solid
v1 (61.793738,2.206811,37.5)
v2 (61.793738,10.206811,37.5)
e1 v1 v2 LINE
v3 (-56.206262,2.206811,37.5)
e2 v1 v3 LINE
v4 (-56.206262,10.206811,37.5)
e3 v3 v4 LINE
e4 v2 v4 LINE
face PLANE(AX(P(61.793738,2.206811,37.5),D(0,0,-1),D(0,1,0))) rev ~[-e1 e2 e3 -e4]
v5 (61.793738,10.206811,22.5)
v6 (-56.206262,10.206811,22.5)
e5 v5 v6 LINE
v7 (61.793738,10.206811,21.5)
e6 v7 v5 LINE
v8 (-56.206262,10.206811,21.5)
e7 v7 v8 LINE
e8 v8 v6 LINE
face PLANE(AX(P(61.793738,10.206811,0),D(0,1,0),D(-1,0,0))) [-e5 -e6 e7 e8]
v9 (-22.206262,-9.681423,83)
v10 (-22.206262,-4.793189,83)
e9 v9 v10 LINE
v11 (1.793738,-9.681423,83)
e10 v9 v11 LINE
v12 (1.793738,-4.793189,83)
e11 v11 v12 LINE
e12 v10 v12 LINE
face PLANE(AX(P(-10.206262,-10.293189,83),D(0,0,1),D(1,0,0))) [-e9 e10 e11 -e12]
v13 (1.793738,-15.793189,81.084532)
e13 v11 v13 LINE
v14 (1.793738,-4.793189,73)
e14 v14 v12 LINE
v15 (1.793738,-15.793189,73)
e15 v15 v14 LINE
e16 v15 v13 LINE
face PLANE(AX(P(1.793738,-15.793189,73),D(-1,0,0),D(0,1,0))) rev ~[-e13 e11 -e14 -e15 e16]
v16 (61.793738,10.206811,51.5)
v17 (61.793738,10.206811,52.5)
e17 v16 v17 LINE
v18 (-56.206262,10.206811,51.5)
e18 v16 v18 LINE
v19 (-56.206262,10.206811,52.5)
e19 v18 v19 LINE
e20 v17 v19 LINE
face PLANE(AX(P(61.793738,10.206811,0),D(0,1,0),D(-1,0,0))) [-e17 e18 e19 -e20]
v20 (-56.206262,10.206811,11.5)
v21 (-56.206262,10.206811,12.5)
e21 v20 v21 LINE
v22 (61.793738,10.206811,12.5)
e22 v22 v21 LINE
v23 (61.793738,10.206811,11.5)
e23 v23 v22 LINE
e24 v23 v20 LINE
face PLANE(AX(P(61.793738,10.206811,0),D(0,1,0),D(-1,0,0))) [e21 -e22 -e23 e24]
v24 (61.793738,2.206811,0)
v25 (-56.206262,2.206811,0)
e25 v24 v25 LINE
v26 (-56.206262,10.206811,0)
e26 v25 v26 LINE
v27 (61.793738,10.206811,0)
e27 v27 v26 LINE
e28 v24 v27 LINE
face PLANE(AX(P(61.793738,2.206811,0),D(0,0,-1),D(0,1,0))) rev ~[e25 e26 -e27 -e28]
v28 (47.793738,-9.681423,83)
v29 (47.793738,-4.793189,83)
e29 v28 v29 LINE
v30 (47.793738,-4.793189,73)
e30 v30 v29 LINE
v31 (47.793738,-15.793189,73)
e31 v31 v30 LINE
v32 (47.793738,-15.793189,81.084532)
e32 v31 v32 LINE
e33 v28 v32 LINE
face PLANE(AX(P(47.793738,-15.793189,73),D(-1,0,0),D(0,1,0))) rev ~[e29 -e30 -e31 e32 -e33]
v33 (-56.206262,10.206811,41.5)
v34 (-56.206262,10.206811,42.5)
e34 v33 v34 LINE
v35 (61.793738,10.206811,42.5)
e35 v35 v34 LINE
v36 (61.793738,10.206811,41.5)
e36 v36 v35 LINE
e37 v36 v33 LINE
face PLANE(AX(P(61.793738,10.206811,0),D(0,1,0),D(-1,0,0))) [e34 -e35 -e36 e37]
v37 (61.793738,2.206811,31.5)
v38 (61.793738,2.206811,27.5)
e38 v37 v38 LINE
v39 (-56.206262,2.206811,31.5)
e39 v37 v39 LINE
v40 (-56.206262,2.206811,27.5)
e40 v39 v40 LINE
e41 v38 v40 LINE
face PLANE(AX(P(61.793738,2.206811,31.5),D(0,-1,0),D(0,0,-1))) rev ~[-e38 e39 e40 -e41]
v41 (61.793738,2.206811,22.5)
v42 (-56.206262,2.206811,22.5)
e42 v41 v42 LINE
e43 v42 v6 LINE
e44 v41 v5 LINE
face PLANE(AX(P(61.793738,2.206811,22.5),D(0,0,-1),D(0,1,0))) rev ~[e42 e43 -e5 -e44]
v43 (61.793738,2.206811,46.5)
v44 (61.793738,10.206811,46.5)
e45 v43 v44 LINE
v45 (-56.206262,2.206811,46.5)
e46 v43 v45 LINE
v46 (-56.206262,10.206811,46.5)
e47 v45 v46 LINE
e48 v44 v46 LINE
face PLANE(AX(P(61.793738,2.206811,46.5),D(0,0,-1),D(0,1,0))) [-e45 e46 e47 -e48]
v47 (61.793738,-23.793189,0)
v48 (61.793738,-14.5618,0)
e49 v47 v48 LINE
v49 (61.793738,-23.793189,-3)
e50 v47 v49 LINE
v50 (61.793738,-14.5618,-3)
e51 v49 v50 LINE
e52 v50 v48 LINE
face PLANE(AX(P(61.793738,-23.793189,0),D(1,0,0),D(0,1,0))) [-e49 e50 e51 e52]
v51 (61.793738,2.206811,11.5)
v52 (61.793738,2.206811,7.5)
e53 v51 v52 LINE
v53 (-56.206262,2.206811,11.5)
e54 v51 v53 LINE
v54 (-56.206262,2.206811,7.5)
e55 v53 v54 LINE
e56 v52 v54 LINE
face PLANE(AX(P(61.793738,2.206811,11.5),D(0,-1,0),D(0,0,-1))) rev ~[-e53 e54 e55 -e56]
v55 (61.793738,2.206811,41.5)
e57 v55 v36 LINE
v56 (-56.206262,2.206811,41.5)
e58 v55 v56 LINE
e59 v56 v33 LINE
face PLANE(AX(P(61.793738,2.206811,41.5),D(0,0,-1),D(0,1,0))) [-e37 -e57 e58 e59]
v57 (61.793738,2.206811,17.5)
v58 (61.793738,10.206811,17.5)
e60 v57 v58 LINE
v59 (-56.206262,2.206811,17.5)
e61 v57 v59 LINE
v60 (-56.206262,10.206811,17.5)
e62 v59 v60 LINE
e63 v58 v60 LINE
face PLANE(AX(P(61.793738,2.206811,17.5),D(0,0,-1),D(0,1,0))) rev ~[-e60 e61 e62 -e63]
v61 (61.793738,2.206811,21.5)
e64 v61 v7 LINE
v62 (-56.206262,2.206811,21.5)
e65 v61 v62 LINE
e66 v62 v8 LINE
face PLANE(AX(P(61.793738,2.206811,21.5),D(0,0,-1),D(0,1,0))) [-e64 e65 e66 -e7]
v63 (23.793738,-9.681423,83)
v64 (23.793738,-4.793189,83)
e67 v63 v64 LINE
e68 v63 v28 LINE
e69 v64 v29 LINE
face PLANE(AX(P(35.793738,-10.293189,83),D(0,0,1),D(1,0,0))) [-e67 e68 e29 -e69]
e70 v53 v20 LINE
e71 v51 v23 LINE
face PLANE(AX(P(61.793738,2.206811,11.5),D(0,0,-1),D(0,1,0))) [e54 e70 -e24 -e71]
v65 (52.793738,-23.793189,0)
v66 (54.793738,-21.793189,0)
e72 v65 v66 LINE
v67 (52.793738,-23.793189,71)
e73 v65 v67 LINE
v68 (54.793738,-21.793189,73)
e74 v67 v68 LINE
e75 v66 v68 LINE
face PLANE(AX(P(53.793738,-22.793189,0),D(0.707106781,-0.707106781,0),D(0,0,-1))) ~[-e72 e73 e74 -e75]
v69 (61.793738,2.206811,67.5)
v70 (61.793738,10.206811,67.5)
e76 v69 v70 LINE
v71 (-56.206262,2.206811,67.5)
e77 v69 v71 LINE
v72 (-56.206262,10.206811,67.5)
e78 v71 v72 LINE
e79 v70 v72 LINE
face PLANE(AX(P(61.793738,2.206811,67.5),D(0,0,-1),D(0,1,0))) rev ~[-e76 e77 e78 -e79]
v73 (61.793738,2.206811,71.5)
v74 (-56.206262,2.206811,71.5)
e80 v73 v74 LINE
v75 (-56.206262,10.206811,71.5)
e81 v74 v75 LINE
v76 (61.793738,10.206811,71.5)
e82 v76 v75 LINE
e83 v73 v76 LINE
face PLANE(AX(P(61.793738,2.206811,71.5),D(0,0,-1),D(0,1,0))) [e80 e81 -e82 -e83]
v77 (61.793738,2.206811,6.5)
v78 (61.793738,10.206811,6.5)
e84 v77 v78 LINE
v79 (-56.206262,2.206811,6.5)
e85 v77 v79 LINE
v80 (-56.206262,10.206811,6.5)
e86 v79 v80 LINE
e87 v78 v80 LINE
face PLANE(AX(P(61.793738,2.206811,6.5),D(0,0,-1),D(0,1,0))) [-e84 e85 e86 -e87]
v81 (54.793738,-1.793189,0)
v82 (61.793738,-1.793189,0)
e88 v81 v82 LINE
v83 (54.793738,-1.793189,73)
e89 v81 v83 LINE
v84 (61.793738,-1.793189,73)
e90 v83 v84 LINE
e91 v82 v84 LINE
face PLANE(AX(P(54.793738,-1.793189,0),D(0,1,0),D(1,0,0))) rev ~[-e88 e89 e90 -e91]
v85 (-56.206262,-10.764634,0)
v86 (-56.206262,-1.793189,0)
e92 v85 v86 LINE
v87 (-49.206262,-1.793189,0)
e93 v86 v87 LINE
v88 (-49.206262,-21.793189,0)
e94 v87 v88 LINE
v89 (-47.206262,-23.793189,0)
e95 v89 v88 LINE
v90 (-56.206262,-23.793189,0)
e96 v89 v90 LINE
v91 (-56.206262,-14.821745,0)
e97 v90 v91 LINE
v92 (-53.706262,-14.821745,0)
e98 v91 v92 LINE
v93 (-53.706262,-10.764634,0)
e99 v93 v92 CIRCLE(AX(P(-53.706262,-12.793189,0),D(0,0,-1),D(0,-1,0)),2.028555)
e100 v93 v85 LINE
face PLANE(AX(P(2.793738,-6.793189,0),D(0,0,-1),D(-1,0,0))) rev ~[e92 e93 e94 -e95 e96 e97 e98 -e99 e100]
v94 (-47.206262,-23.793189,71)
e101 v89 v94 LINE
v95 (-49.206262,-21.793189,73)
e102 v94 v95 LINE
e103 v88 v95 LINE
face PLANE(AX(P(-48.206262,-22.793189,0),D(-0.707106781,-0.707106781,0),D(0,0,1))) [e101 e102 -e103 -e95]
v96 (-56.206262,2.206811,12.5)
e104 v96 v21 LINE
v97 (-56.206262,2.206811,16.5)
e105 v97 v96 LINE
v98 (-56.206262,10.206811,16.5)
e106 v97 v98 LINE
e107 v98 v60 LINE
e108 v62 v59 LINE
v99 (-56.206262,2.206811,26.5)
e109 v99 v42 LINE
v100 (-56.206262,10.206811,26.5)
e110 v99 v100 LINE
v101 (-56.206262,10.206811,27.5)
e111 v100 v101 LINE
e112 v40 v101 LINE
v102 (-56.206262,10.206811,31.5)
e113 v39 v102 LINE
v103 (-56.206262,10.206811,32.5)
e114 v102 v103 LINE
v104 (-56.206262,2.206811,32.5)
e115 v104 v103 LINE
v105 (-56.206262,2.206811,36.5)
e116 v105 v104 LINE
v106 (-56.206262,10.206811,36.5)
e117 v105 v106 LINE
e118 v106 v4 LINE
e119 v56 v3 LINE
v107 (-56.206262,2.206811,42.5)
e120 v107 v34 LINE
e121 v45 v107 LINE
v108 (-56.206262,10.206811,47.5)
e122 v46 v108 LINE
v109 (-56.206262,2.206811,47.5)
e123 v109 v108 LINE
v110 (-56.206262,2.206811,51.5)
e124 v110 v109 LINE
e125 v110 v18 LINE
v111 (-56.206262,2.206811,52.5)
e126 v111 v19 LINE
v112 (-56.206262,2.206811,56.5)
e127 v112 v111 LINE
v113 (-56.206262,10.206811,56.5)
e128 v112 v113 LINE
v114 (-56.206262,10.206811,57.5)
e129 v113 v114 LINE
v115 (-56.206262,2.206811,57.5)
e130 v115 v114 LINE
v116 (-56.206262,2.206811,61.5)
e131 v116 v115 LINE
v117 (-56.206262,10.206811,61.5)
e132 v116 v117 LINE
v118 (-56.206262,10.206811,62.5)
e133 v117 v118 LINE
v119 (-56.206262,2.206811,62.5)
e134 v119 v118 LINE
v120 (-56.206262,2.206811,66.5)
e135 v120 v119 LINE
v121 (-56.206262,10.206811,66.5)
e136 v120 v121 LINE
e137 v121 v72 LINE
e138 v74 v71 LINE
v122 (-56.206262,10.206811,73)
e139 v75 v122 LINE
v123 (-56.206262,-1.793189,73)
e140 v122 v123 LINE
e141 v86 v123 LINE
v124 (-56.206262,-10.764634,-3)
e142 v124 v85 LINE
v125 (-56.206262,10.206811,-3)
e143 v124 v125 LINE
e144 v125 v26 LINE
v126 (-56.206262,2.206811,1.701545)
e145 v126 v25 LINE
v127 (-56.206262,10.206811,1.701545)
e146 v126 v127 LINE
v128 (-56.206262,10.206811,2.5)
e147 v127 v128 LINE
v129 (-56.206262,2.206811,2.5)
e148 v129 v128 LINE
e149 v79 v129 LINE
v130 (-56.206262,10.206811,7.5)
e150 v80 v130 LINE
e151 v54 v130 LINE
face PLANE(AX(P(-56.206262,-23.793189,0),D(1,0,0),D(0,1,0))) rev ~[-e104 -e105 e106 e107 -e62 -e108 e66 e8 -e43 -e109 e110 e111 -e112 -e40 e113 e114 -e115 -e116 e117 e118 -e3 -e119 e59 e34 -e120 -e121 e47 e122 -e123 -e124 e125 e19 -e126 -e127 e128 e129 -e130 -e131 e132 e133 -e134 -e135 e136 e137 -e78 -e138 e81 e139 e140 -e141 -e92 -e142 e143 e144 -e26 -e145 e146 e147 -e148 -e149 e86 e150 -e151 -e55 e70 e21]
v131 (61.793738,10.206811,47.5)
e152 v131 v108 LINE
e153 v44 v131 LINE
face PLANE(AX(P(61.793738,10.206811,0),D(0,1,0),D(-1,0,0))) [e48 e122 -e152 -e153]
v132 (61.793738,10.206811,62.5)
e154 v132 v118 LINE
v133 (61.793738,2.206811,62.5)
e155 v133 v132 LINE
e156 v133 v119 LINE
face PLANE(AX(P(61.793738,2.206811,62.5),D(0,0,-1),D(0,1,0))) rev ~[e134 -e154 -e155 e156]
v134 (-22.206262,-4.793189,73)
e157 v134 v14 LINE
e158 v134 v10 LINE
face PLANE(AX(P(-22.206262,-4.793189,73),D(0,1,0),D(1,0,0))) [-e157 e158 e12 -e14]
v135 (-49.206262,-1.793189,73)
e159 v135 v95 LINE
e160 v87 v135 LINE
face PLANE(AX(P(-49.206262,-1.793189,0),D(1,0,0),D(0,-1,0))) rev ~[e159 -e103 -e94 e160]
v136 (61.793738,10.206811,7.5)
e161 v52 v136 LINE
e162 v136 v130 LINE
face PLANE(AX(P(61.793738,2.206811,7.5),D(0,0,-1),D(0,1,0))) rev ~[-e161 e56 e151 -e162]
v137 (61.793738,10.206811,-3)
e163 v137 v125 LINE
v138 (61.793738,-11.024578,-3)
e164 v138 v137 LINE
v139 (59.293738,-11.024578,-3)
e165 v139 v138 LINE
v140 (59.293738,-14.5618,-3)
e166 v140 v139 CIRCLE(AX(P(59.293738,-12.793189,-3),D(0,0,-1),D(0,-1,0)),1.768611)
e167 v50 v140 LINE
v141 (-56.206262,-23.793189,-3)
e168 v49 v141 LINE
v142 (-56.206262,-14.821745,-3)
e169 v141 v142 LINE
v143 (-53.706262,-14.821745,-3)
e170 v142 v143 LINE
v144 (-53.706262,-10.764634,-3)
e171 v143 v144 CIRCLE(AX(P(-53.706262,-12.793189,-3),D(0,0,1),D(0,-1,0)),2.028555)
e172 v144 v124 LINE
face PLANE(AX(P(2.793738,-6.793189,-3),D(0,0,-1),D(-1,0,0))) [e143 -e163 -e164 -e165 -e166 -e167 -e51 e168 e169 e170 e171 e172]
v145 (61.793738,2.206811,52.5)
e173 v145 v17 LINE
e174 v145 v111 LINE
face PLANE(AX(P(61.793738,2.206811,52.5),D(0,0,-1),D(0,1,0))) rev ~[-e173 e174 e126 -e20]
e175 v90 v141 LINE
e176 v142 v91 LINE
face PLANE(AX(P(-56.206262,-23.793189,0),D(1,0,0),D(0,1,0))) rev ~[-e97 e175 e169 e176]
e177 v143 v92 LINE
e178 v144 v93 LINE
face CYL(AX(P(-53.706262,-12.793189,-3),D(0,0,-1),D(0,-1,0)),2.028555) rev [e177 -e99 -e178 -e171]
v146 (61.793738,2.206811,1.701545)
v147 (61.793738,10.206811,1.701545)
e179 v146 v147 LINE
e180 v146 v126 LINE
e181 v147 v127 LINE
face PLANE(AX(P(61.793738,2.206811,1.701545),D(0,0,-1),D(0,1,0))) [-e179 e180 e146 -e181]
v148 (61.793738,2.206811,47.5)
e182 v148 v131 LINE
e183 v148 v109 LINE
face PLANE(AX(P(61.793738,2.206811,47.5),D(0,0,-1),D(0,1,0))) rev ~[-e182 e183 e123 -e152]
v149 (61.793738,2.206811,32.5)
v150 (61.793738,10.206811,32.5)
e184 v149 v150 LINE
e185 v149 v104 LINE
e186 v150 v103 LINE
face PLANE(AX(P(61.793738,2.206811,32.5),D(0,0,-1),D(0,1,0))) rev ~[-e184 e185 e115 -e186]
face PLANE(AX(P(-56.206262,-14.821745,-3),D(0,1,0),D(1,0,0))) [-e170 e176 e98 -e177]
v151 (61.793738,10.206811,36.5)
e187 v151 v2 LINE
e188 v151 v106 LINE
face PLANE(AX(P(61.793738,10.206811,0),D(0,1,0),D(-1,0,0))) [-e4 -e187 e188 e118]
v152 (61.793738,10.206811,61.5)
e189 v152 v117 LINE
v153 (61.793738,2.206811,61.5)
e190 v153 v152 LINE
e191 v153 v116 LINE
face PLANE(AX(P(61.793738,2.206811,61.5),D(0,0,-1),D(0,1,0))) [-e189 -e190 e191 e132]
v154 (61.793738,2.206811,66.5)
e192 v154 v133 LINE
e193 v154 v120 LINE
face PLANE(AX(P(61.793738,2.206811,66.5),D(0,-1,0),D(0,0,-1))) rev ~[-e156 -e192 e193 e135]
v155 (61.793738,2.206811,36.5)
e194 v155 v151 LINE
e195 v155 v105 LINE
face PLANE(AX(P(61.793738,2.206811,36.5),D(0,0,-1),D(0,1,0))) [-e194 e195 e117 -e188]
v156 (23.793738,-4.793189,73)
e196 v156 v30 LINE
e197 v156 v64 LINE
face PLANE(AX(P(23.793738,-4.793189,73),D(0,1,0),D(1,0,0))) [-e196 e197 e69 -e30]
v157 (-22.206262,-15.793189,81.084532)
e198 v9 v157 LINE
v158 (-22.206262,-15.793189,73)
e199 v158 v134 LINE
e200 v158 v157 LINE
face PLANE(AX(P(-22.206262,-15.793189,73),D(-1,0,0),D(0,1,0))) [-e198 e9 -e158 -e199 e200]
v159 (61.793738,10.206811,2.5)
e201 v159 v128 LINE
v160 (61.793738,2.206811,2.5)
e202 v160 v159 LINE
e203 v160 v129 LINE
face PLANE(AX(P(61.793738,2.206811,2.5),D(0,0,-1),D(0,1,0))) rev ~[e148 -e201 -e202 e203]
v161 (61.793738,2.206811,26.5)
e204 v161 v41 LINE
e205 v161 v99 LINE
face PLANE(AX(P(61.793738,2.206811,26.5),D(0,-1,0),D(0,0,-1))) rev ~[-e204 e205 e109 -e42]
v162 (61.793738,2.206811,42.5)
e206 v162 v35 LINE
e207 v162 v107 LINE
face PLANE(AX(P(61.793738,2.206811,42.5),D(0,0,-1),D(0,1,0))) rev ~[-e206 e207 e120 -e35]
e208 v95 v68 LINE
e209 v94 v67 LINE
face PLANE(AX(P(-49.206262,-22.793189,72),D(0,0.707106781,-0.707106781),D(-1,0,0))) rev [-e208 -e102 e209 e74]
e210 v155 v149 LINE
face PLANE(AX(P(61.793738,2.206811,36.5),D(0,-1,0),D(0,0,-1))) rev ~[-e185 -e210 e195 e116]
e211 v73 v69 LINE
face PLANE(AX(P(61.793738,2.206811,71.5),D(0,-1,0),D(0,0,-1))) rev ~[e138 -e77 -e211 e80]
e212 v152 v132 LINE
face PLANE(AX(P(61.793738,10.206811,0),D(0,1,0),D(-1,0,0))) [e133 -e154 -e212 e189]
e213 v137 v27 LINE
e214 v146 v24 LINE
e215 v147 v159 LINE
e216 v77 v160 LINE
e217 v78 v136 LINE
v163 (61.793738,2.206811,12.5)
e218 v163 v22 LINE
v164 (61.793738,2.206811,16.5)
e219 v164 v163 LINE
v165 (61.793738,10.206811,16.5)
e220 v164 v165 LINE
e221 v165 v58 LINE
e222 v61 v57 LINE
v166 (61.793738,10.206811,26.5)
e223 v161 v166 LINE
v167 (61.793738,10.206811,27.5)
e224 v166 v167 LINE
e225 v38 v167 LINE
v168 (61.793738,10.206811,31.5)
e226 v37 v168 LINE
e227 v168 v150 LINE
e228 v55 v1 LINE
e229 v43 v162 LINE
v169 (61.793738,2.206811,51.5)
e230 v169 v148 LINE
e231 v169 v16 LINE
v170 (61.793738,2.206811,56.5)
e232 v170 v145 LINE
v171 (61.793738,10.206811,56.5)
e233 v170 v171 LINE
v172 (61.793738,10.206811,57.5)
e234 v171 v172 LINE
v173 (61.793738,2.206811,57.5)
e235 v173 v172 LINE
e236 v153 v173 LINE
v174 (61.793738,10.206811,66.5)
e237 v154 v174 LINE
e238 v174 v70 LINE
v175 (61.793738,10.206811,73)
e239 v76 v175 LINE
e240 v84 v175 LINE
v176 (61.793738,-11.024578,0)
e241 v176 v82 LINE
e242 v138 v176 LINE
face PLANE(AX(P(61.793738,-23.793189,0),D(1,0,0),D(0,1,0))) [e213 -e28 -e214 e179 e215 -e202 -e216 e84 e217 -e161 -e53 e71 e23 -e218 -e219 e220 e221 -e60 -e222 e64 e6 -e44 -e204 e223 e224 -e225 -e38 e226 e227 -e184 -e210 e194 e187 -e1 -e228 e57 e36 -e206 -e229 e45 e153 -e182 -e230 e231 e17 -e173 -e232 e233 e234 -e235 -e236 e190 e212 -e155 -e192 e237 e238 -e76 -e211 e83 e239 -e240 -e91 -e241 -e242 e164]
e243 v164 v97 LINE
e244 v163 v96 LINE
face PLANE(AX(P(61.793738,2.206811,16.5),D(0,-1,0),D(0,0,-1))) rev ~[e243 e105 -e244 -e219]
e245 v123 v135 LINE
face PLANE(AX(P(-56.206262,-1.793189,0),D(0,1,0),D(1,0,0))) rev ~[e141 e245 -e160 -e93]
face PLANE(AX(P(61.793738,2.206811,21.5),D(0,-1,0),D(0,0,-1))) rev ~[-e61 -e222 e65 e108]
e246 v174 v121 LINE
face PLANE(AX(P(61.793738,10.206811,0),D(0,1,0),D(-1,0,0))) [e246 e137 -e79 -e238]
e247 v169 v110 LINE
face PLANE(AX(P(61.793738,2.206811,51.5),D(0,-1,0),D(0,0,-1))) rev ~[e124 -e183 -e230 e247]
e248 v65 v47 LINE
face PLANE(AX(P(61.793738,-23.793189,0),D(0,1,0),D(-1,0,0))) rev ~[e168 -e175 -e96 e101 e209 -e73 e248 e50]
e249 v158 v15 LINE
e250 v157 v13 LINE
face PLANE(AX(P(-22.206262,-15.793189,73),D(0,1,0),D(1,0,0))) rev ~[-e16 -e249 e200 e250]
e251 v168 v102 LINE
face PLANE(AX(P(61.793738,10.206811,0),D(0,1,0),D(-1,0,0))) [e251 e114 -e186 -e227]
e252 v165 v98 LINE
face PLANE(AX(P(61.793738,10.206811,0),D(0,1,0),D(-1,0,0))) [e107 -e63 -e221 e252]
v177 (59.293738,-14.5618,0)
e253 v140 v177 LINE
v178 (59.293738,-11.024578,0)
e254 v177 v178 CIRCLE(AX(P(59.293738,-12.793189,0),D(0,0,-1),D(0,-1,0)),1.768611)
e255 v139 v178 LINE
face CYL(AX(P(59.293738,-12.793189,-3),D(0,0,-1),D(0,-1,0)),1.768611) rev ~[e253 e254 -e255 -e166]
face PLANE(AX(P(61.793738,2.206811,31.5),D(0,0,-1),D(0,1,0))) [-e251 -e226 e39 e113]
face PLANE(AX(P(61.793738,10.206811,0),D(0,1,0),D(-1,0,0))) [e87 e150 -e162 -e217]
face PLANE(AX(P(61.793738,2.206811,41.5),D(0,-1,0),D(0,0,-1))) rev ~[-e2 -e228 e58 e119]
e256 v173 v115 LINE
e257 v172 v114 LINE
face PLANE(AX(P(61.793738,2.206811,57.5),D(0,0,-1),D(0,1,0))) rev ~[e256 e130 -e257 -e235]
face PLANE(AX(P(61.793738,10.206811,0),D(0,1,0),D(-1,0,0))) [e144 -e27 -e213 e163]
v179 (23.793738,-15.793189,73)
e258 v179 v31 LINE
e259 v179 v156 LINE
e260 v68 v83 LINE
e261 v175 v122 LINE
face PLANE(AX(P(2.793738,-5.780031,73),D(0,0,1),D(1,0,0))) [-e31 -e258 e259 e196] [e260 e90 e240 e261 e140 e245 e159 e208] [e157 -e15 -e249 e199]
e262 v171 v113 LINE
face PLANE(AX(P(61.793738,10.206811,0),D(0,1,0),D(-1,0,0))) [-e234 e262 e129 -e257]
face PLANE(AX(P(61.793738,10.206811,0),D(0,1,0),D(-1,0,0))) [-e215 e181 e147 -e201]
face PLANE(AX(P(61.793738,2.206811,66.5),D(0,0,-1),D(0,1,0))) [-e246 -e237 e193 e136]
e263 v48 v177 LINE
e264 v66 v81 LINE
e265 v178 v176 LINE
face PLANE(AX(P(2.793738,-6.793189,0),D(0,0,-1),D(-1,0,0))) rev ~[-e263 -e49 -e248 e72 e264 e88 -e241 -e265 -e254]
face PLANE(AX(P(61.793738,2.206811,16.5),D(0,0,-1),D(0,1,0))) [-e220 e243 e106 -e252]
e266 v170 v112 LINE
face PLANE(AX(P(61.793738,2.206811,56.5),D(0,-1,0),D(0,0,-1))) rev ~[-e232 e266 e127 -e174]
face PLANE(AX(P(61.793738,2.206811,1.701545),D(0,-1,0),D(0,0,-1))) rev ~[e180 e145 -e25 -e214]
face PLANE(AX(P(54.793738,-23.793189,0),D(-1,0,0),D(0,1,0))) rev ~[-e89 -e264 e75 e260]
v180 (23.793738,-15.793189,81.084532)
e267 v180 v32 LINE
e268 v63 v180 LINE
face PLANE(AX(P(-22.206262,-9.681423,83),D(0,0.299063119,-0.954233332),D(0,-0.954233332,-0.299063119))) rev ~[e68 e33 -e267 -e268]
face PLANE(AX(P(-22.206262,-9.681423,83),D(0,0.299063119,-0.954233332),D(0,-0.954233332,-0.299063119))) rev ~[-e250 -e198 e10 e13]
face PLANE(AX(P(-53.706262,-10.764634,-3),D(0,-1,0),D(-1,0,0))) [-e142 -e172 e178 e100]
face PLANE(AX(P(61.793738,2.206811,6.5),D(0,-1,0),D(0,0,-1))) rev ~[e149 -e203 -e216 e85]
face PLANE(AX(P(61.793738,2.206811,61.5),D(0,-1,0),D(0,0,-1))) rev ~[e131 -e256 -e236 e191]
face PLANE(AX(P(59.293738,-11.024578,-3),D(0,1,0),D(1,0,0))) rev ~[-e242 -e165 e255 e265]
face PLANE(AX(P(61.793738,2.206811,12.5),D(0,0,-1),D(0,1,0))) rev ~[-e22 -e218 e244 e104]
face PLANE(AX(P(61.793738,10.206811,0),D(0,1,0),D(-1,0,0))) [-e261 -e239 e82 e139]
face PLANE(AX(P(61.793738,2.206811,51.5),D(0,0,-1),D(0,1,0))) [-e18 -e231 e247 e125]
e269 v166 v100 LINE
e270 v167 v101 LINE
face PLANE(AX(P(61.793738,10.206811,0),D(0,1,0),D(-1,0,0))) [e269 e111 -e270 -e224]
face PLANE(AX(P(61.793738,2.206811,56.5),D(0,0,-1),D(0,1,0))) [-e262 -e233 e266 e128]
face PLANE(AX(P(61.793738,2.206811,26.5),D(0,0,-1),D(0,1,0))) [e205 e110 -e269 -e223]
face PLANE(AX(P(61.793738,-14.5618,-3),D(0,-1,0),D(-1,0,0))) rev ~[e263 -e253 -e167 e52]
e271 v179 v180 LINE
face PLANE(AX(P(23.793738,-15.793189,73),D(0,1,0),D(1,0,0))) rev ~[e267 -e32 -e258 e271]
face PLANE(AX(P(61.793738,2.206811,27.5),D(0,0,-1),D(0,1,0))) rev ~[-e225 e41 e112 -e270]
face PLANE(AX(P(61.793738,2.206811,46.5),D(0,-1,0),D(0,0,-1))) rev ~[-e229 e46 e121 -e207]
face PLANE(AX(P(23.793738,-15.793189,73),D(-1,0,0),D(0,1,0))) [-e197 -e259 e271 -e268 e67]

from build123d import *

# Parameters (mm, degrees)
EXTRUDE_1_DEPTH     = 73
SKETCH_2_W          = 118
SKETCH_2_H          = 34
EXTRUDE_2_DEPTH     = 3
SKETCH_3_W          = 4
SKETCH_3_H          = 8
SKETCH_3_W_2        = 1.701544984
CUT_EXTRUDE_1_DEPTH = 122
SKETCH_4_W          = 24
SKETCH_4_H          = 11
EXTRUDE_3_DEPTH     = 10
CUT_EXTRUDE_2_DEPTH = 72
CUT_EXTRUDE_3_DEPTH = 5
CHAMFER_1_SIZE      = 2


with BuildPart() as part:
    # Эскиз1 → Бобышка-Вытянуть1 (new body)
    with BuildSketch(Plane.XY):
        Polygon((-49.206262386, -23.793189369), (54.793737614, -23.793189369), (54.793737614, -1.793189369), (61.793737614, -1.793189369), (61.793737614, 10.206810631), (-56.206262386, 10.206810631), (-56.206262386, -1.793189369), (-49.206262386, -1.793189369), align=None)
    extrude(amount=EXTRUDE_1_DEPTH)

    # Эскиз2 → Бобышка-Вытянуть2 (add)
    with BuildSketch(Plane(origin=(0, 0, 0), x_dir=(-1, 0, 0), z_dir=(0, 0, -1))):
        with Locations((-2.793737614, -6.793189369)):
            Rectangle(SKETCH_2_W, SKETCH_2_H)
    extrude(amount=EXTRUDE_2_DEPTH)

    # Эскиз3 → Вырез-Вытянуть1 (cut)
    with BuildSketch(Plane(origin=(61.793737614, 0, 0), x_dir=(0, 0, -1), z_dir=(1, 0, 0))):
        with Locations((-69.5, 6.206810631)):
            Rectangle(SKETCH_3_W, SKETCH_3_H)
        with Locations((-64.5, 6.206810631)):
            Rectangle(SKETCH_3_W, SKETCH_3_H)
        with Locations((-59.5, 6.206810631)):
            Rectangle(SKETCH_3_W, SKETCH_3_H)
        with Locations((-54.5, 6.206810631)):
            Rectangle(SKETCH_3_W, SKETCH_3_H)
        with Locations((-49.5, 6.206810631)):
            Rectangle(SKETCH_3_W, SKETCH_3_H)
        with Locations((-44.5, 6.206810631)):
            Rectangle(SKETCH_3_W, SKETCH_3_H)
        with Locations((-39.5, 6.206810631)):
            Rectangle(SKETCH_3_W, SKETCH_3_H)
        with Locations((-34.5, 6.206810631)):
            Rectangle(SKETCH_3_W, SKETCH_3_H)
        with Locations((-29.5, 6.206810631)):
            Rectangle(SKETCH_3_W, SKETCH_3_H)
        with Locations((-24.5, 6.206810631)):
            Rectangle(SKETCH_3_W, SKETCH_3_H)
        with Locations((-19.5, 6.206810631)):
            Rectangle(SKETCH_3_W, SKETCH_3_H)
        with Locations((-14.5, 6.206810631)):
            Rectangle(SKETCH_3_W, SKETCH_3_H)
        with Locations((-9.5, 6.206810631)):
            Rectangle(SKETCH_3_W, SKETCH_3_H)
        with Locations((-4.5, 6.206810631)):
            Rectangle(SKETCH_3_W, SKETCH_3_H)
        with Locations((-0.850772492, 6.206810631)):
            Rectangle(SKETCH_3_W_2, SKETCH_3_H)
    extrude(amount=-CUT_EXTRUDE_1_DEPTH, mode=Mode.SUBTRACT)

    # Эскиз4 → Бобышка-Вытянуть3 (add)
    with BuildSketch(Plane.XY.offset(73)):
        with Locations((35.793737614, -10.293189369)):
            Rectangle(SKETCH_4_W, SKETCH_4_H)
        with Locations((-10.206262386, -10.293189369)):
            Rectangle(SKETCH_4_W, SKETCH_4_H)
    extrude(amount=EXTRUDE_3_DEPTH)

    # Эскиз5 → Вырез-Вытянуть2 (cut)
    with BuildSketch(Plane.ZY.offset(22.206262386)):
        Polygon((83, -4.793189369), (83, -9.681423082), (81.084531501, -15.793189369), (84.818796285, -15.793189369), (84.818796285, -4.793189369), align=None)
    extrude(amount=-CUT_EXTRUDE_2_DEPTH, mode=Mode.SUBTRACT)

    # Эскиз6 → Вырез-Вытянуть3 (cut)
    with BuildSketch(Plane(origin=(0, 0, -3), x_dir=(-1, 0, 0), z_dir=(0, 0, -1))):
        with BuildLine():
            Line((-59.293737614, -11.024578472), (-61.793737614, -11.024578472))
            Line((-61.793737614, -11.024578472), (-61.793737614, -14.561800266))
            Line((-61.793737614, -14.561800266), (-59.293737614, -14.561800266))
            ThreePointArc((-59.293737614, -14.561800266), (-57.525126717, -12.793189369), (-59.293737614, -11.024578472))
        make_face()
        with BuildLine():
            Line((53.706262386, -10.764633874), (56.206262386, -10.764633874))
            Line((56.206262386, -10.764633874), (56.206262386, -14.821744863))
            Line((56.206262386, -14.821744863), (53.706262386, -14.821744863))
            ThreePointArc((53.706262386, -14.821744863), (51.677706891, -12.793189369), (53.706262386, -10.764633874))
        make_face()
    extrude(amount=-CUT_EXTRUDE_3_DEPTH, mode=Mode.SUBTRACT)

    # Фаска1
    chamfer_1_edges = [part.edges().sort_by_distance(p)[0] for p in [
        (54.793737614, -23.793189369, 36.5),
        (2.793737614, -23.793189369, 73),
        (-49.206262386, -23.793189369, 36.5),
    ]]
    chamfer(chamfer_1_edges, length=CHAMFER_1_SIZE)


solid = part.part
